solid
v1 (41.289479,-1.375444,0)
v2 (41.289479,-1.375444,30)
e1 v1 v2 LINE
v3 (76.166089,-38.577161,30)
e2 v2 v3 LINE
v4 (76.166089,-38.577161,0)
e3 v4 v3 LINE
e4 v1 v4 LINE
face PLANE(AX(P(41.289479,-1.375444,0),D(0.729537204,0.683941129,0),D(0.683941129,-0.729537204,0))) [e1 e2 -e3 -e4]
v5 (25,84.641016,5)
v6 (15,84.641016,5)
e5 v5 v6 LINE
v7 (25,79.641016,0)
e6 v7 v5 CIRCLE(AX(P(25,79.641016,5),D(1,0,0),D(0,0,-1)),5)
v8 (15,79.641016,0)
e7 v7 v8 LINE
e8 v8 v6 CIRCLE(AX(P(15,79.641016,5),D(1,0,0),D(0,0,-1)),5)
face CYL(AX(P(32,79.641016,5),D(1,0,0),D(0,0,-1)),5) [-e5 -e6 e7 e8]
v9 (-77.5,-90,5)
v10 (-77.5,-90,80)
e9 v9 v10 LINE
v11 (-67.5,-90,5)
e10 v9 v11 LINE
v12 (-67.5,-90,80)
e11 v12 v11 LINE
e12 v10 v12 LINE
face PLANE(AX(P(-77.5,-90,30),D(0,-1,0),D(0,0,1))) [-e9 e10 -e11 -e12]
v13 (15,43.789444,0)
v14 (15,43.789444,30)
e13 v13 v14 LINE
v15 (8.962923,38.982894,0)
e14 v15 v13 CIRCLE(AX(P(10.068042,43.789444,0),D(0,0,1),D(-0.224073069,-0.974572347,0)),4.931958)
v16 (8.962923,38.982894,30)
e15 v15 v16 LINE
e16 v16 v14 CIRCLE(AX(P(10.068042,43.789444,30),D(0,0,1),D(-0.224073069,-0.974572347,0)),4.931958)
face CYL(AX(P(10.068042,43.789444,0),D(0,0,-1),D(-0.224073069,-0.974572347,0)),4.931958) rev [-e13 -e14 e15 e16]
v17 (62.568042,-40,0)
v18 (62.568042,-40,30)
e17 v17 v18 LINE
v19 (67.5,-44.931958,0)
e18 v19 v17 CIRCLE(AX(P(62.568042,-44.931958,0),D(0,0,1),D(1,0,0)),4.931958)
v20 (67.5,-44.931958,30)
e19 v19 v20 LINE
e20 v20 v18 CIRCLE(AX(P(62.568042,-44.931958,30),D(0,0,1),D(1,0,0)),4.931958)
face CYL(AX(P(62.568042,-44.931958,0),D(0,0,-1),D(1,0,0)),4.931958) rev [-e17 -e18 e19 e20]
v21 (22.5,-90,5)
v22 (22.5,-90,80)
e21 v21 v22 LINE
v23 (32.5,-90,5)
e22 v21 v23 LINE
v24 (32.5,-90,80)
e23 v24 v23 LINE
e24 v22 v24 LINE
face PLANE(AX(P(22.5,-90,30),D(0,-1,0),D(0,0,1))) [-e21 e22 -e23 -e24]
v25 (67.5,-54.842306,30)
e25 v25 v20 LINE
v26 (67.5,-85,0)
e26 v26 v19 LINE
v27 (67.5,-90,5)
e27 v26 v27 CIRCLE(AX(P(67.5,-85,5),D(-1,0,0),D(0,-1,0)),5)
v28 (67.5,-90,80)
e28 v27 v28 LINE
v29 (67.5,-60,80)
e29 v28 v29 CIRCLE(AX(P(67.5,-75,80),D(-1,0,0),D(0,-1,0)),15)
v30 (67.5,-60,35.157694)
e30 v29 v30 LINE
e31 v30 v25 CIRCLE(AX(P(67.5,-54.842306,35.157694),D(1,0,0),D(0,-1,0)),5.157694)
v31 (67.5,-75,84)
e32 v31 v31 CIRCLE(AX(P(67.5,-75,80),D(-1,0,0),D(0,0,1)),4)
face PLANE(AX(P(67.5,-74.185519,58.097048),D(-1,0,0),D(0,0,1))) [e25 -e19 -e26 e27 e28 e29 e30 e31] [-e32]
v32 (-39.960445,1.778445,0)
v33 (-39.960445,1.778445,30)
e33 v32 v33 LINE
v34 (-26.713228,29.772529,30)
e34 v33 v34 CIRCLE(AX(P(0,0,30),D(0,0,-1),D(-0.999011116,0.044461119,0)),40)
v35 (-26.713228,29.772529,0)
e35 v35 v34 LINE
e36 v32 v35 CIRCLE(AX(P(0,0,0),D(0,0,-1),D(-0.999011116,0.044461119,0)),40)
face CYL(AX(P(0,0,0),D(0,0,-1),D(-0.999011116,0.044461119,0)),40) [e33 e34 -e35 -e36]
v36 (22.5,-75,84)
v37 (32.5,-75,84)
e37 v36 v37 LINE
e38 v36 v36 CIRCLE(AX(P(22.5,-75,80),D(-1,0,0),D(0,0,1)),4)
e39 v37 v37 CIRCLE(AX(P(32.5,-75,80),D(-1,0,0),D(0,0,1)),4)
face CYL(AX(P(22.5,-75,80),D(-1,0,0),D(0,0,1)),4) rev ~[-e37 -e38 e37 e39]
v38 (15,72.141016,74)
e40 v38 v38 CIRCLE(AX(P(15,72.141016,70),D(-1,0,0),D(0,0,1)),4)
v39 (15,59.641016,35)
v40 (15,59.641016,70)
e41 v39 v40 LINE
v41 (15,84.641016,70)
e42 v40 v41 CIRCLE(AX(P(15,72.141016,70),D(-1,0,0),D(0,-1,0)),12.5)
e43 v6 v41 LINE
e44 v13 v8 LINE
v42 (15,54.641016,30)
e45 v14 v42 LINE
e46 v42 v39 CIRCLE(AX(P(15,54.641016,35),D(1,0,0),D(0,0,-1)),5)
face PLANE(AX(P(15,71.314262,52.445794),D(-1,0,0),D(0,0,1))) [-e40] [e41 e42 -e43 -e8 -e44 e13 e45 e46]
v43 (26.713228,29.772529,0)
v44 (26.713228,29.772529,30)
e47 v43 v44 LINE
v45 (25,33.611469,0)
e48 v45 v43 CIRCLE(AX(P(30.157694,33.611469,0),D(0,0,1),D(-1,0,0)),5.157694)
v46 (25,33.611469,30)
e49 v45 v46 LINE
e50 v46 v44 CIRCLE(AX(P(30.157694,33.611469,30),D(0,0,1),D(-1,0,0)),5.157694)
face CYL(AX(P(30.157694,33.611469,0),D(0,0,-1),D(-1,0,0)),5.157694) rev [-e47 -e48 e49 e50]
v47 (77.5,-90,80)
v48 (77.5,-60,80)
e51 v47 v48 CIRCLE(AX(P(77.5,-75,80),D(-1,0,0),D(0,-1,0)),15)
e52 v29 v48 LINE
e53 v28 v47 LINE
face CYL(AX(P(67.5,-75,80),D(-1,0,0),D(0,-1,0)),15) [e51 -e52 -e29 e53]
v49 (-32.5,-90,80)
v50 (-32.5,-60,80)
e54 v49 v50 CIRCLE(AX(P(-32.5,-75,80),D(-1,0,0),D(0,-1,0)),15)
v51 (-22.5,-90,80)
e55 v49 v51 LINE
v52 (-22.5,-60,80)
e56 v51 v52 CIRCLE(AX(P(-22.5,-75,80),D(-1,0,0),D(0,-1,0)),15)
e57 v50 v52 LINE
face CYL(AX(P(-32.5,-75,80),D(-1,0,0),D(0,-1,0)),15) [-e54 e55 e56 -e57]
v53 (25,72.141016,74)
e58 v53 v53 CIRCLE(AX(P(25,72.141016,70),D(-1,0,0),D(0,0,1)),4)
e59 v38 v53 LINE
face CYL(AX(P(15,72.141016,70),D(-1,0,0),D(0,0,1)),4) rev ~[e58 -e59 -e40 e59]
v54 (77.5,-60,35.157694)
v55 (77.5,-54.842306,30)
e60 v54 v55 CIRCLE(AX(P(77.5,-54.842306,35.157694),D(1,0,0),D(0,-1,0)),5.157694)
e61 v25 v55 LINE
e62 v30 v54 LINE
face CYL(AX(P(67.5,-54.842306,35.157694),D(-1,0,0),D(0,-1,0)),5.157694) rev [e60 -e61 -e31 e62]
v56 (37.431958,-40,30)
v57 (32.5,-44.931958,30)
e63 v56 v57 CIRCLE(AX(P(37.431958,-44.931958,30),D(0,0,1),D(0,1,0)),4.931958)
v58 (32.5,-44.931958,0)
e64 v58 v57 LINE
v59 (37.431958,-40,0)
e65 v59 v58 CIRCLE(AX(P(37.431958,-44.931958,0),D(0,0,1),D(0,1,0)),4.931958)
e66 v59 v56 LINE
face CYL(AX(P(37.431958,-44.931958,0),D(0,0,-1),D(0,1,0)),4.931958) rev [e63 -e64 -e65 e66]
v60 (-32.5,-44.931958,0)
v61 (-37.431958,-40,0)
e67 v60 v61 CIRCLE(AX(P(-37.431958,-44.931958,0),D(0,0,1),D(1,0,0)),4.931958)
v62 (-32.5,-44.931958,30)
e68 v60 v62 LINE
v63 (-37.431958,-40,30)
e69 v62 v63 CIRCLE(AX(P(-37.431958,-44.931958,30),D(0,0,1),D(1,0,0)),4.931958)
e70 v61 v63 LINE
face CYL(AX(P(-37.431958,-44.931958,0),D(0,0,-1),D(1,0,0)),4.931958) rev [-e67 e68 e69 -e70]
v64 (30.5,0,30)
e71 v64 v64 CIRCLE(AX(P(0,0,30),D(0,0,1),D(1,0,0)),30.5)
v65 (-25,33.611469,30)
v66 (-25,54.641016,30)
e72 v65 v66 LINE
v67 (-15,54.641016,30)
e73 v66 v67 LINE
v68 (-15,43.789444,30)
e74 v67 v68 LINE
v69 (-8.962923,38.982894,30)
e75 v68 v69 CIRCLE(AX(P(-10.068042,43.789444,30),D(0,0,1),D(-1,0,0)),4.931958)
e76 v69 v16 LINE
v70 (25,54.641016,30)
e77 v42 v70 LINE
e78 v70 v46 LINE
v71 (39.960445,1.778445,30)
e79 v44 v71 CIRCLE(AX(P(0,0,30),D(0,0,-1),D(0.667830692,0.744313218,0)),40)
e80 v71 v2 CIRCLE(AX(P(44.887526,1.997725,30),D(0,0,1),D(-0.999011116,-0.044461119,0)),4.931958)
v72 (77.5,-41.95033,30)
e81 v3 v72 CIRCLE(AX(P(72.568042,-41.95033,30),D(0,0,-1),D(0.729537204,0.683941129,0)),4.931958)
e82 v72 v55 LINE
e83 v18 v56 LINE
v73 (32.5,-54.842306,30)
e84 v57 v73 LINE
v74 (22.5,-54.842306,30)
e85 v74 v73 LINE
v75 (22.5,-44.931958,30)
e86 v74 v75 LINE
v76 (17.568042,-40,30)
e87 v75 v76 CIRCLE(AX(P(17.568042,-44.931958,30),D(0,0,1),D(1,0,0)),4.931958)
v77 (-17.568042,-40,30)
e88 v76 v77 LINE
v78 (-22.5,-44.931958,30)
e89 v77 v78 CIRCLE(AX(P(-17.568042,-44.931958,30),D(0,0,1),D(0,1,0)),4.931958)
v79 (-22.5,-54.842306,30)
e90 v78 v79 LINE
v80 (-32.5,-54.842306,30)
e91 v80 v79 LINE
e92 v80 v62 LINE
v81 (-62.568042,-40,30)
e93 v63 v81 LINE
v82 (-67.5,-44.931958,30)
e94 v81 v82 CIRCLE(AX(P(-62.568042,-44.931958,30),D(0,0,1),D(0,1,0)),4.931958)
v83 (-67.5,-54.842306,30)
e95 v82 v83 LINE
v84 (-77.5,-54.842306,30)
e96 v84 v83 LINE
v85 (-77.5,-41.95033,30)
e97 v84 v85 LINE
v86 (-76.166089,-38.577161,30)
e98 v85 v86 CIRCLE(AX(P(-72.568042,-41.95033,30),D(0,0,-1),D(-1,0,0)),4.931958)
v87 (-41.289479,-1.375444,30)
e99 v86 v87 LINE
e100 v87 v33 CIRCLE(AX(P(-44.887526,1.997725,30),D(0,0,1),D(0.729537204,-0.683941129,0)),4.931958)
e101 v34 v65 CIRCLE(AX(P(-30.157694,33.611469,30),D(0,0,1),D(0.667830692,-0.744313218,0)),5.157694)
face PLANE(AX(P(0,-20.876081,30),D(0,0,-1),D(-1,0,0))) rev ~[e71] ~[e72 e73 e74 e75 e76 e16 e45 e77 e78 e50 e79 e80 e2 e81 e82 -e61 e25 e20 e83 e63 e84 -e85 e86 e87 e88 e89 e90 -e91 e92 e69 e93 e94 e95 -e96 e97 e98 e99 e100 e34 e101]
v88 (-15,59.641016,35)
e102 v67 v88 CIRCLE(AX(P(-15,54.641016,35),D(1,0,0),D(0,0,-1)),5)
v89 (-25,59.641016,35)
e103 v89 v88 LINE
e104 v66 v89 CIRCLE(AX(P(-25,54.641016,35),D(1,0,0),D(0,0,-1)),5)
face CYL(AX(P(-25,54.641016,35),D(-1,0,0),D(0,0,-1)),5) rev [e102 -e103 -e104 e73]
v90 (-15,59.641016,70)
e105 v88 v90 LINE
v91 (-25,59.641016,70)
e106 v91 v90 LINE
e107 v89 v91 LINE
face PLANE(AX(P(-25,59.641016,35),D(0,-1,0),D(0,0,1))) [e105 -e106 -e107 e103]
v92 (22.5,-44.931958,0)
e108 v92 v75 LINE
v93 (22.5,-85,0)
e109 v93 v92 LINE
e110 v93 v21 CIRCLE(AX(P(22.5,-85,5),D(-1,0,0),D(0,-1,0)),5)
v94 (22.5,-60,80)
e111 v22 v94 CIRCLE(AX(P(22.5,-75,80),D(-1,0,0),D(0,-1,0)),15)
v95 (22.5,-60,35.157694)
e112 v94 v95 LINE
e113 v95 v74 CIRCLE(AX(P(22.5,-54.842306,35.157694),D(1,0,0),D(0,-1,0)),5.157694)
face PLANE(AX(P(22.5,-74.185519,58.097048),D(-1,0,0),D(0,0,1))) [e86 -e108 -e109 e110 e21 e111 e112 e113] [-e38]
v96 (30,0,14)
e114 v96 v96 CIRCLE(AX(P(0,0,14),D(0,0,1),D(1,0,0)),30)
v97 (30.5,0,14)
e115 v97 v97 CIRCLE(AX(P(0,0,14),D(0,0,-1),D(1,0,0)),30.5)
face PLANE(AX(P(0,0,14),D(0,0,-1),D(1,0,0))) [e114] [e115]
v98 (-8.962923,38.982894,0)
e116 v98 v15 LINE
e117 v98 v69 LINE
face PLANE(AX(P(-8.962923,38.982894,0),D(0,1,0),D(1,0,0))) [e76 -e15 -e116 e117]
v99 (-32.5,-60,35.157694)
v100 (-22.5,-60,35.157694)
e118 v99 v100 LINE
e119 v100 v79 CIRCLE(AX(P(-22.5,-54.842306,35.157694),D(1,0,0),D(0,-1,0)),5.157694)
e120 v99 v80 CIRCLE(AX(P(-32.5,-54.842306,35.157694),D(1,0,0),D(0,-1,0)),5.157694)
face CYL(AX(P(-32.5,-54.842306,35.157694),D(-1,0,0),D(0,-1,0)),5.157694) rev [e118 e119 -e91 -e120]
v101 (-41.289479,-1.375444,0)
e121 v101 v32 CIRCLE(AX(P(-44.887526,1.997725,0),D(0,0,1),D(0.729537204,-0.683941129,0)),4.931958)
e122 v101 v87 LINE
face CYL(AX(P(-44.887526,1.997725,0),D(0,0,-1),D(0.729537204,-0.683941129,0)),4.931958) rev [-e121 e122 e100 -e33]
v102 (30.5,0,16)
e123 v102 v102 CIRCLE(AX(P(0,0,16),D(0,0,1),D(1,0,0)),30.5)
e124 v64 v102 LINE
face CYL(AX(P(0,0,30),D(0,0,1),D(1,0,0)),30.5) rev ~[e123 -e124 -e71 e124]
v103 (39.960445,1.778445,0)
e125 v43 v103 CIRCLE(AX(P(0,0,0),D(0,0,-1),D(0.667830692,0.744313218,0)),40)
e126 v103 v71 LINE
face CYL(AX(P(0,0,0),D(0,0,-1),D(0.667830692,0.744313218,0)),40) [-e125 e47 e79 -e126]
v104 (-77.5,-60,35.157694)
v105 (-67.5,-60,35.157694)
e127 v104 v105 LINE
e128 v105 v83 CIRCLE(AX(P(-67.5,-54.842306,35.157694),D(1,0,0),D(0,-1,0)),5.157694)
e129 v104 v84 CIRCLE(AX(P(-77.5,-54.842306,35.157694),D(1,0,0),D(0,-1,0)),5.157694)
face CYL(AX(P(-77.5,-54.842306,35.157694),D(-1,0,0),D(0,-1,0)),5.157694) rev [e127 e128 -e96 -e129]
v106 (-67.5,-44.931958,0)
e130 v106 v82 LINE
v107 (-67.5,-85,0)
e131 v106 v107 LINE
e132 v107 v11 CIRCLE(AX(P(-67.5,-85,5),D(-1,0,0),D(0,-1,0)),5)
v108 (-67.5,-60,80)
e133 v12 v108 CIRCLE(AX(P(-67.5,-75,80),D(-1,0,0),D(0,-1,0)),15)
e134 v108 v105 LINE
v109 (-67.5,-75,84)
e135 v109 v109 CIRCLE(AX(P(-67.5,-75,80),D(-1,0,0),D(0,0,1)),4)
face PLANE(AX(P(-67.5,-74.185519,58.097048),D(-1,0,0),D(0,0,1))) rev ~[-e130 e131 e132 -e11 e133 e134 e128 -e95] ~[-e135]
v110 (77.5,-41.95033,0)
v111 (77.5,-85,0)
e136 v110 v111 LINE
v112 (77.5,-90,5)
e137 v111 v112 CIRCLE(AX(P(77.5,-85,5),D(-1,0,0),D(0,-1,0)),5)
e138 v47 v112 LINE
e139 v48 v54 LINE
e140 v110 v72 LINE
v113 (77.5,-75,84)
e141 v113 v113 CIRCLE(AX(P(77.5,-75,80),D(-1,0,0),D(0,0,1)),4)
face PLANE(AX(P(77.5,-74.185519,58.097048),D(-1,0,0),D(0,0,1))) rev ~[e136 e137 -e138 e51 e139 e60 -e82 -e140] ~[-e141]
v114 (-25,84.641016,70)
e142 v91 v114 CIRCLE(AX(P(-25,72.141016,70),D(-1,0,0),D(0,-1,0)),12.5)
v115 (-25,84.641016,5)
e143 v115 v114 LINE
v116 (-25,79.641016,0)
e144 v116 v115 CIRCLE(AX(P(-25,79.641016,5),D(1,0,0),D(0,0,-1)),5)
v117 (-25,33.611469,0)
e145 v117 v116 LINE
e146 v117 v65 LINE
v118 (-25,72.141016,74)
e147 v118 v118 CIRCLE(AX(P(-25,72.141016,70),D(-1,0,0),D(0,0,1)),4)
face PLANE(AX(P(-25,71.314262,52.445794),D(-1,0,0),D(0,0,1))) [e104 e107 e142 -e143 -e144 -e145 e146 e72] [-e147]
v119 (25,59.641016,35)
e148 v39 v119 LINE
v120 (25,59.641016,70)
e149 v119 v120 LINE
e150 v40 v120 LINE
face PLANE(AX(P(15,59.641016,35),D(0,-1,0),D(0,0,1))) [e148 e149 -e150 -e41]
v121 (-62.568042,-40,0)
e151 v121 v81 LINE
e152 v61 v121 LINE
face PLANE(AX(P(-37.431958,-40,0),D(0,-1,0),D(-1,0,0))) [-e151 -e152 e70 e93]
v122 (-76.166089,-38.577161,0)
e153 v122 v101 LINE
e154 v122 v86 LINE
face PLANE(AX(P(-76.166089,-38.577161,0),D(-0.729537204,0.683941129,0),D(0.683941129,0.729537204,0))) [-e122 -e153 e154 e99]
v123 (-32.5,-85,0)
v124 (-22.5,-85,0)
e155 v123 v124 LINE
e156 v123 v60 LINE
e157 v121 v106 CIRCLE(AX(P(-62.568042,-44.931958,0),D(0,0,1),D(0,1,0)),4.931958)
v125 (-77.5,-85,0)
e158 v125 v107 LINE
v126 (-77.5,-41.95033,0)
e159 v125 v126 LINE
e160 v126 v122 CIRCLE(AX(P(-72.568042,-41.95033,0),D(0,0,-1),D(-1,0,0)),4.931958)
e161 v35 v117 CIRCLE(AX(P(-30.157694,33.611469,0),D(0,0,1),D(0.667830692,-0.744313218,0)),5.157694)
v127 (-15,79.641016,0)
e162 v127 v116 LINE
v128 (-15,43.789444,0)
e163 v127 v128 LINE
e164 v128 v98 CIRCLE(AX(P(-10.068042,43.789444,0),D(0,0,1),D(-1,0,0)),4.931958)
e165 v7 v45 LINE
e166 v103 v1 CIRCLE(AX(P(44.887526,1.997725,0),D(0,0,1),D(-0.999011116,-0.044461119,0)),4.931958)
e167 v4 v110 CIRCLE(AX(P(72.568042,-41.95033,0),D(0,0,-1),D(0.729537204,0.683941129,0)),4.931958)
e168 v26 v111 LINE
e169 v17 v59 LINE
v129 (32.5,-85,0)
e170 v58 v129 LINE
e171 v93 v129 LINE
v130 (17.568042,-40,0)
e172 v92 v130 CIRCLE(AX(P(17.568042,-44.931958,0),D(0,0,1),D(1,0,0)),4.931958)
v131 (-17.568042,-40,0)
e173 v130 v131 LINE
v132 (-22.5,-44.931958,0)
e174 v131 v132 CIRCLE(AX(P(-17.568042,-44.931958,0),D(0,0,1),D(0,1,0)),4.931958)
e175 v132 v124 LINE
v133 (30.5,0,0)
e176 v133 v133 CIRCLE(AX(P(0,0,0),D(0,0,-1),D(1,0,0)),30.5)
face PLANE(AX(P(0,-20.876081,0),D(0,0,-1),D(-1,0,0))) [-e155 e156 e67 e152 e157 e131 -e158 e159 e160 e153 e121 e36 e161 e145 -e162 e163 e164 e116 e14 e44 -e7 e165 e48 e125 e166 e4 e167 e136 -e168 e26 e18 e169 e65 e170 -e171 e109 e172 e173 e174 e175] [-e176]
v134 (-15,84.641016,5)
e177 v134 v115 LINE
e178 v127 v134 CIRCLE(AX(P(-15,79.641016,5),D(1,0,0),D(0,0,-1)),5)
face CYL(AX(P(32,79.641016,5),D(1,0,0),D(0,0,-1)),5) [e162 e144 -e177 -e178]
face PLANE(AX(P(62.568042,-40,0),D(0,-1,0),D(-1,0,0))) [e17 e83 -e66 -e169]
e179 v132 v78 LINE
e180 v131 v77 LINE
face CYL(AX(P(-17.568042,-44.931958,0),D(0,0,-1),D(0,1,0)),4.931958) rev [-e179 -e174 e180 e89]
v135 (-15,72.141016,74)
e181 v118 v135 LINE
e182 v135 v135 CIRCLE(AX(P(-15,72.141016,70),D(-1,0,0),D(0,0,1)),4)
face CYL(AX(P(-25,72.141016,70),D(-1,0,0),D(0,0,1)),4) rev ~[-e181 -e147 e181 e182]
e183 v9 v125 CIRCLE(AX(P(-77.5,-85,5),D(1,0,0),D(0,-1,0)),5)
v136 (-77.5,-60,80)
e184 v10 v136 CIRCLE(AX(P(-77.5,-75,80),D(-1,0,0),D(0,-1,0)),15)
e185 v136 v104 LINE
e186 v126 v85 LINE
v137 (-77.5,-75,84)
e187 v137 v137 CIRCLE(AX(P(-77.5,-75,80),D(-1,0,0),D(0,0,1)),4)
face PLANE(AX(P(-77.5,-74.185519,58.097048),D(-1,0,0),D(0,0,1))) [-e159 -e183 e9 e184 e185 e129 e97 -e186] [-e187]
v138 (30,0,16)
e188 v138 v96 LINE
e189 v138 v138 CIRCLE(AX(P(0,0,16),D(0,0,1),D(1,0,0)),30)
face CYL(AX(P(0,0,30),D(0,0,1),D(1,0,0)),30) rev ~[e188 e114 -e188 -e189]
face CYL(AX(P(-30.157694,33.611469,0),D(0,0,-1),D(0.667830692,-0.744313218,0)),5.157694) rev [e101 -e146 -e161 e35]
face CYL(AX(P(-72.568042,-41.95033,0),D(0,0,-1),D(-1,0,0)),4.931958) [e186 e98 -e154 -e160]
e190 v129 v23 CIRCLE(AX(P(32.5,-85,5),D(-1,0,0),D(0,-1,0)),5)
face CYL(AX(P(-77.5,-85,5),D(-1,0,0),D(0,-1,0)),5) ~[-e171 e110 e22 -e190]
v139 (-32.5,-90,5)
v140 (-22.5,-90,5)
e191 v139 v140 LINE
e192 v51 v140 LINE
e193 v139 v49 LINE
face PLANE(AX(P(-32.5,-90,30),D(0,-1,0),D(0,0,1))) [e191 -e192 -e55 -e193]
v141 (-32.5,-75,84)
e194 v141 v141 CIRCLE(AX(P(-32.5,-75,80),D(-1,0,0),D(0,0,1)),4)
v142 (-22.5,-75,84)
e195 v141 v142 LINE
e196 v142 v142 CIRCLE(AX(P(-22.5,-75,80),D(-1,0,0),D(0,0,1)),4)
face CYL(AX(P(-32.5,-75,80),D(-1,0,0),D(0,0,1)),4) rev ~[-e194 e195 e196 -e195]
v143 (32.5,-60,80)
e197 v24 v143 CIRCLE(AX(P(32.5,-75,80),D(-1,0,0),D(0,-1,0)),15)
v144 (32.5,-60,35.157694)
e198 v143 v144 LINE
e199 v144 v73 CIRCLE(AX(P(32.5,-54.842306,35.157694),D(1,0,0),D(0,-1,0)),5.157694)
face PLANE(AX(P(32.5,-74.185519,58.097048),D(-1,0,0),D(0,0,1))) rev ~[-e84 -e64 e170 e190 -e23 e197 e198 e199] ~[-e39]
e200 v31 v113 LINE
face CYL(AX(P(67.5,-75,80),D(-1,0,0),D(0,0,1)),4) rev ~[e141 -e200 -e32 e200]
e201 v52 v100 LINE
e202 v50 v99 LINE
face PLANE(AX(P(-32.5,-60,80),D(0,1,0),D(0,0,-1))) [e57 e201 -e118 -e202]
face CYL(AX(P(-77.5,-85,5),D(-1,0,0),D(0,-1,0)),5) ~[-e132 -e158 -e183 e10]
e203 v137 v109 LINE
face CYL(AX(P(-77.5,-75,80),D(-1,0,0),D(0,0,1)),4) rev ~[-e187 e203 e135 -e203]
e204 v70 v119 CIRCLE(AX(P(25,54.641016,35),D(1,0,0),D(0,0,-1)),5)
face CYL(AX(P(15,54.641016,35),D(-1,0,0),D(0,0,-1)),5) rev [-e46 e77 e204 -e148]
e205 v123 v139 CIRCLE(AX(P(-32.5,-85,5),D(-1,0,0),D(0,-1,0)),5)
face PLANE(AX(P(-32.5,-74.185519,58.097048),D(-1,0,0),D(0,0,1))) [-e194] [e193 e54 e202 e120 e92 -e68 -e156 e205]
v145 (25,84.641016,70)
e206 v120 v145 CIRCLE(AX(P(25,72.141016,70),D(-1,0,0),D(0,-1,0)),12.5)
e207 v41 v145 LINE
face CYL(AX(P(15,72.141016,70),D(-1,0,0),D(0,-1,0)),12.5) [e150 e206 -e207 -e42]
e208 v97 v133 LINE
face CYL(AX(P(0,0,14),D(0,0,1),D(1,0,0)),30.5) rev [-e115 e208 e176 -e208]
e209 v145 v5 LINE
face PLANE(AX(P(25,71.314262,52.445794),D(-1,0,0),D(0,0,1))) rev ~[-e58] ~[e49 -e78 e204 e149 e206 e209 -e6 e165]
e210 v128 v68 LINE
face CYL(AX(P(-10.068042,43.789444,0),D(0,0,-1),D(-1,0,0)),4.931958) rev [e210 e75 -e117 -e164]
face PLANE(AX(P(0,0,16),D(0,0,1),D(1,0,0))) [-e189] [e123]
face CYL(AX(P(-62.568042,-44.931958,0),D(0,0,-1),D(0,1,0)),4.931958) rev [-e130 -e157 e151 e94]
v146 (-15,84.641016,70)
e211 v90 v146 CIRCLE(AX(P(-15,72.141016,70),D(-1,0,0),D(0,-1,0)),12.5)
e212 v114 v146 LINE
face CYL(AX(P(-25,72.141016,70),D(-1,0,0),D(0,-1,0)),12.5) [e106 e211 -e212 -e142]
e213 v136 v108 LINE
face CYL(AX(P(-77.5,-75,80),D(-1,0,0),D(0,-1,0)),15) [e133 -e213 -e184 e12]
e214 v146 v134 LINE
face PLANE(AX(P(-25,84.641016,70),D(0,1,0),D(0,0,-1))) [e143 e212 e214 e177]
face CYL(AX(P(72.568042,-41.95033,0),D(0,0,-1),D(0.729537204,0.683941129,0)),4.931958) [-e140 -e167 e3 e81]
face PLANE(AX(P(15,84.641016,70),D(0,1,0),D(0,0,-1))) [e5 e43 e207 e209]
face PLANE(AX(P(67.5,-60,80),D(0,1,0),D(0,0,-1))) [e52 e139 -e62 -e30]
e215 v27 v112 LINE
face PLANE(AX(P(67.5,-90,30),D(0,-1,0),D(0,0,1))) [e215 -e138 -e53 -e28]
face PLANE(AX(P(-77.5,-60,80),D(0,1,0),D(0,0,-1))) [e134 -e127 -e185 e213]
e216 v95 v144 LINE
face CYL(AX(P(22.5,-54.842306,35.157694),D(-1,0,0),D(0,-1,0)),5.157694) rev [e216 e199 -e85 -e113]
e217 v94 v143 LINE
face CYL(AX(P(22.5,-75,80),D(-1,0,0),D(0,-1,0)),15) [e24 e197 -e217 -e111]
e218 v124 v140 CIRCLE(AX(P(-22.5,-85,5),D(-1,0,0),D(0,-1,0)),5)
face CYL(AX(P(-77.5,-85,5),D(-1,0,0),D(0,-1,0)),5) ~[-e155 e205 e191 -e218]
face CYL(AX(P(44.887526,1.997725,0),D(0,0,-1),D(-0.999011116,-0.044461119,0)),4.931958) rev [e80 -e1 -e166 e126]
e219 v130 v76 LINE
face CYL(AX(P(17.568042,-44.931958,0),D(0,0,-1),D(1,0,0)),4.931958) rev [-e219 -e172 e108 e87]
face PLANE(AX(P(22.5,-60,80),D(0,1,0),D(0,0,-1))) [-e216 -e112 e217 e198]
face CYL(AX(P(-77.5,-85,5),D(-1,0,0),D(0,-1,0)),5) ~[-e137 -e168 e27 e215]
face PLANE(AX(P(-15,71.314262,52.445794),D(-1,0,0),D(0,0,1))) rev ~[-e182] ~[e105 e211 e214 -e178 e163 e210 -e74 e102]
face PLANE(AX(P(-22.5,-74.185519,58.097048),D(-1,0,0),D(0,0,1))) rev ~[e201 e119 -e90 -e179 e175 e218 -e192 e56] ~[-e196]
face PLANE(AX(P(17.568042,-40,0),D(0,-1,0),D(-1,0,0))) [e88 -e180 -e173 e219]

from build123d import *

# Parameters (mm, degrees)
BOSS_EXTRUDE2_DEPTH     = 30
SKETCH2_R               = 4
BOSS_EXTRUDE3_DEPTH     = 10
CUT_EXTRUDE3_DEPTH      = 162
SKETCH4_R               = 4
BOSS_EXTRUDE4_DEPTH     = 10
SKETCH5_R               = 4
BOSS_EXTRUDE5_DEPTH     = 10
SKETCH6_R               = 4
BOSS_EXTRUDE6_DEPTH     = 10
SKETCH7_R               = 4
BOSS_EXTRUDE7_DEPTH     = 10
CUT_EXTRUDE4_DEPTH      = 167.226502099
CUT_EXTRUDE4_DEPTH_BACK = 57
SKETCH13_R              = 4
BOSS_EXTRUDE8_DEPTH     = 10
SKETCH14_R              = 30
CUT_EXTRUDE5_DEPTH      = 136.392946641
SKETCH15_R              = 30.5
CUT_EXTRUDE6_DEPTH      = 14
CUT_EXTRUDE7_START      = -14
SKETCH16_R              = 30.5
CUT_EXTRUDE7_DEPTH      = 14


with BuildPart() as part:
    # Sketch1 → Boss-Extrude2 (new body)
    with BuildSketch(Plane.XY):
        with BuildLine():
            Line((-15, 84.641016151), (-15, 43.789443996))
            ThreePointArc((-15, 43.789443996), (-13.139996453, 39.931036758), (-8.962922752, 38.982893886))
            Line((-8.962922752, 38.982893886), (8.962922752, 38.982893886))
            ThreePointArc((8.962922752, 38.982893886), (13.139996453, 39.931036758), (15, 43.789443996))
            Line((15, 43.789443996), (15, 84.641016151))
            Line((15, 84.641016151), (25, 84.641016151))
            Line((25, 84.641016151), (25, 33.611468644))
            ThreePointArc((25, 33.611468644), (25.447741208, 31.509528534), (26.713227694, 29.772528717))
            ThreePointArc((26.713227694, 29.772528717), (36.156075964, 17.109592948), (39.96044462, 1.778444757))
            ThreePointArc((39.96044462, 1.778444757), (40.342615834, 0.082521187), (41.289478696, -1.375443942))
            Line((41.289478696, -1.375443942), (76.166088788, -38.577161373))
            ThreePointArc((76.166088788, -38.577161373), (77.154414497, -40.136660916), (77.5, -41.950330454))
            Line((77.5, -41.950330454), (77.5, -90))
            Line((77.5, -90), (67.5, -90))
            Line((67.5, -90), (67.5, -44.931958231))
            ThreePointArc((67.5, -44.931958231), (66.055462879, -41.444537121), (62.568041769, -40))
            Line((62.568041769, -40), (37.431958231, -40))
            ThreePointArc((37.431958231, -40), (33.944537121, -41.444537121), (32.5, -44.931958231))
            Line((32.5, -44.931958231), (32.5, -90))
            Line((32.5, -90), (22.5, -90))
            Line((22.5, -90), (22.5, -44.931958231))
            ThreePointArc((22.5, -44.931958231), (21.055462879, -41.444537121), (17.568041769, -40))
            Line((17.568041769, -40), (-17.568041769, -40))
            ThreePointArc((-17.568041769, -40), (-21.055462879, -41.444537121), (-22.5, -44.931958231))
            Line((-22.5, -44.931958231), (-22.5, -90))
            Line((-22.5, -90), (-32.5, -90))
            Line((-32.5, -90), (-32.5, -44.931958231))
            ThreePointArc((-32.5, -44.931958231), (-33.944537121, -41.444537121), (-37.431958231, -40))
            Line((-37.431958231, -40), (-62.568041769, -40))
            ThreePointArc((-62.568041769, -40), (-66.055462879, -41.444537121), (-67.5, -44.931958231))
            Line((-67.5, -44.931958231), (-67.5, -90))
            Line((-67.5, -90), (-77.5, -90))
            Line((-77.5, -90), (-77.5, -41.950330454))
            ThreePointArc((-77.5, -41.950330454), (-77.154414497, -40.136660916), (-76.166088788, -38.577161373))
            Line((-76.166088788, -38.577161373), (-41.289478696, -1.375443942))
            ThreePointArc((-41.289478696, -1.375443942), (-40.342615834, 0.082521187), (-39.96044462, 1.778444757))
            ThreePointArc((-39.96044462, 1.778444757), (-36.156075964, 17.109592948), (-26.713227694, 29.772528717))
            ThreePointArc((-26.713227694, 29.772528717), (-25.447741208, 31.509528534), (-25, 33.611468644))
            Line((-25, 33.611468644), (-25, 84.641016151))
            Line((-25, 84.641016151), (-15, 84.641016151))
        make_face()
    extrude(amount=BOSS_EXTRUDE2_DEPTH)

    # Sketch2 → Boss-Extrude3 (add)
    with BuildSketch(Plane.ZY.offset(77.5)):
        with BuildLine():
            Line((30, -54.842305853), (30, -90))
            Line((30, -90), (80, -90))
            ThreePointArc((80, -90), (95, -75), (80, -60))
            Line((80, -60), (35.157694147, -60))
            ThreePointArc((35.157694147, -60), (31.51065364, -58.48934636), (30, -54.842305853))
        make_face()
        with Locations((80, -75)):
            Circle(SKETCH2_R, mode=Mode.SUBTRACT)
    extrude(amount=-BOSS_EXTRUDE3_DEPTH)

    # Sketch3 → Cut-Extrude3 (cut)
    with BuildSketch(Plane.ZY.offset(77.5)):
        with BuildLine():
            ThreePointArc((5, -90), (1.464466094, -88.535533906), (0, -85))
            Line((0, -85), (0, -90))
            Line((0, -90), (5, -90))
        make_face()
    extrude(amount=-CUT_EXTRUDE3_DEPTH, mode=Mode.SUBTRACT)

    # Sketch4 → Boss-Extrude4 (add)
    with BuildSketch(Plane.ZY.offset(32.5)):
        with BuildLine():
            Line((30, -54.842305853), (30, -90))
            Line((30, -90), (80, -90))
            ThreePointArc((80, -90), (95, -75), (80, -60))
            Line((80, -60), (35.157694147, -60))
            ThreePointArc((35.157694147, -60), (31.51065364, -58.48934636), (30, -54.842305853))
        make_face()
        with Locations((80, -75)):
            Circle(SKETCH4_R, mode=Mode.SUBTRACT)
    extrude(amount=-BOSS_EXTRUDE4_DEPTH)

    # Sketch5 → Boss-Extrude5 (add)
    with BuildSketch(Plane.ZY.offset(-22.5)):
        with BuildLine():
            Line((30, -54.842305853), (30, -90))
            Line((30, -90), (80, -90))
            ThreePointArc((80, -90), (95, -75), (80, -60))
            Line((80, -60), (35.157694147, -60))
            ThreePointArc((35.157694147, -60), (31.51065364, -58.48934636), (30, -54.842305853))
        make_face()
        with Locations((80, -75)):
            Circle(SKETCH5_R, mode=Mode.SUBTRACT)
    extrude(amount=-BOSS_EXTRUDE5_DEPTH)

    # Sketch6 → Boss-Extrude6 (add)
    with BuildSketch(Plane.ZY.offset(-67.5)):
        with BuildLine():
            Line((30, -54.842305853), (30, -90))
            Line((30, -90), (80, -90))
            ThreePointArc((80, -90), (95, -75), (80, -60))
            Line((80, -60), (35.157694147, -60))
            ThreePointArc((35.157694147, -60), (31.51065364, -58.48934636), (30, -54.842305853))
        make_face()
        with Locations((80, -75)):
            Circle(SKETCH6_R, mode=Mode.SUBTRACT)
    extrude(amount=-BOSS_EXTRUDE6_DEPTH)

    # Sketch7 → Boss-Extrude7 (add)
    with BuildSketch(Plane.ZY.offset(25)):
        with BuildLine():
            Line((70, 84.641016151), (30, 84.641016151))
            Line((30, 84.641016151), (30, 54.641016151))
            ThreePointArc((30, 54.641016151), (31.464466094, 58.176550057), (35, 59.641016151))
            Line((35, 59.641016151), (70, 59.641016151))
            ThreePointArc((70, 59.641016151), (82.5, 72.141016151), (70, 84.641016151))
        make_face()
        with Locations((70, 72.141016151)):
            Circle(SKETCH7_R, mode=Mode.SUBTRACT)
    extrude(amount=-BOSS_EXTRUDE7_DEPTH)

    # Sketch9 → Cut-Extrude4 (cut, two sides: drawn at the far end of the back side and taken through both)
    with BuildSketch(Plane.ZY.offset(25).offset(-CUT_EXTRUDE4_DEPTH_BACK)):
        with BuildLine():
            Line((0, 84.641016151), (0, 79.641016151))
            ThreePointArc((0, 79.641016151), (1.464466094, 83.176550057), (5, 84.641016151))
            Line((5, 84.641016151), (0, 84.641016151))
        make_face()
    extrude(amount=CUT_EXTRUDE4_DEPTH + CUT_EXTRUDE4_DEPTH_BACK, mode=Mode.SUBTRACT)

    # Sketch13 → Boss-Extrude8 (add)
    with BuildSketch(Plane.ZY.offset(-15)):
        with BuildLine():
            Line((70, 84.641016151), (30, 84.641016151))
            Line((30, 84.641016151), (30, 54.641016151))
            ThreePointArc((30, 54.641016151), (31.464466094, 58.176550057), (35, 59.641016151))
            Line((35, 59.641016151), (70, 59.641016151))
            ThreePointArc((70, 59.641016151), (82.5, 72.141016151), (70, 84.641016151))
        make_face()
        with Locations((70, 72.141016151)):
            Circle(SKETCH13_R, mode=Mode.SUBTRACT)
    extrude(amount=-BOSS_EXTRUDE8_DEPTH)

    # Sketch14 → Cut-Extrude5 (cut, through all)
    with BuildSketch(Plane.XY.offset(30)):
        Circle(SKETCH14_R)
    extrude(amount=-CUT_EXTRUDE5_DEPTH, mode=Mode.SUBTRACT)

    # Sketch15 → Cut-Extrude6 (cut)
    with BuildSketch(Plane.XY.offset(30)):
        Circle(SKETCH15_R)
    extrude(amount=-CUT_EXTRUDE6_DEPTH, mode=Mode.SUBTRACT)

    # Sketch16 → Cut-Extrude7 (cut)
    with BuildSketch(Plane(origin=(0, 0, 0), x_dir=(-1, 0, 0), z_dir=(0, 0, -1)).offset(CUT_EXTRUDE7_START)):
        with Locations(Location((0, 0, 0), (0, 0, 180))):
            Circle(SKETCH16_R)
    extrude(amount=CUT_EXTRUDE7_DEPTH, mode=Mode.SUBTRACT)


solid = part.part
